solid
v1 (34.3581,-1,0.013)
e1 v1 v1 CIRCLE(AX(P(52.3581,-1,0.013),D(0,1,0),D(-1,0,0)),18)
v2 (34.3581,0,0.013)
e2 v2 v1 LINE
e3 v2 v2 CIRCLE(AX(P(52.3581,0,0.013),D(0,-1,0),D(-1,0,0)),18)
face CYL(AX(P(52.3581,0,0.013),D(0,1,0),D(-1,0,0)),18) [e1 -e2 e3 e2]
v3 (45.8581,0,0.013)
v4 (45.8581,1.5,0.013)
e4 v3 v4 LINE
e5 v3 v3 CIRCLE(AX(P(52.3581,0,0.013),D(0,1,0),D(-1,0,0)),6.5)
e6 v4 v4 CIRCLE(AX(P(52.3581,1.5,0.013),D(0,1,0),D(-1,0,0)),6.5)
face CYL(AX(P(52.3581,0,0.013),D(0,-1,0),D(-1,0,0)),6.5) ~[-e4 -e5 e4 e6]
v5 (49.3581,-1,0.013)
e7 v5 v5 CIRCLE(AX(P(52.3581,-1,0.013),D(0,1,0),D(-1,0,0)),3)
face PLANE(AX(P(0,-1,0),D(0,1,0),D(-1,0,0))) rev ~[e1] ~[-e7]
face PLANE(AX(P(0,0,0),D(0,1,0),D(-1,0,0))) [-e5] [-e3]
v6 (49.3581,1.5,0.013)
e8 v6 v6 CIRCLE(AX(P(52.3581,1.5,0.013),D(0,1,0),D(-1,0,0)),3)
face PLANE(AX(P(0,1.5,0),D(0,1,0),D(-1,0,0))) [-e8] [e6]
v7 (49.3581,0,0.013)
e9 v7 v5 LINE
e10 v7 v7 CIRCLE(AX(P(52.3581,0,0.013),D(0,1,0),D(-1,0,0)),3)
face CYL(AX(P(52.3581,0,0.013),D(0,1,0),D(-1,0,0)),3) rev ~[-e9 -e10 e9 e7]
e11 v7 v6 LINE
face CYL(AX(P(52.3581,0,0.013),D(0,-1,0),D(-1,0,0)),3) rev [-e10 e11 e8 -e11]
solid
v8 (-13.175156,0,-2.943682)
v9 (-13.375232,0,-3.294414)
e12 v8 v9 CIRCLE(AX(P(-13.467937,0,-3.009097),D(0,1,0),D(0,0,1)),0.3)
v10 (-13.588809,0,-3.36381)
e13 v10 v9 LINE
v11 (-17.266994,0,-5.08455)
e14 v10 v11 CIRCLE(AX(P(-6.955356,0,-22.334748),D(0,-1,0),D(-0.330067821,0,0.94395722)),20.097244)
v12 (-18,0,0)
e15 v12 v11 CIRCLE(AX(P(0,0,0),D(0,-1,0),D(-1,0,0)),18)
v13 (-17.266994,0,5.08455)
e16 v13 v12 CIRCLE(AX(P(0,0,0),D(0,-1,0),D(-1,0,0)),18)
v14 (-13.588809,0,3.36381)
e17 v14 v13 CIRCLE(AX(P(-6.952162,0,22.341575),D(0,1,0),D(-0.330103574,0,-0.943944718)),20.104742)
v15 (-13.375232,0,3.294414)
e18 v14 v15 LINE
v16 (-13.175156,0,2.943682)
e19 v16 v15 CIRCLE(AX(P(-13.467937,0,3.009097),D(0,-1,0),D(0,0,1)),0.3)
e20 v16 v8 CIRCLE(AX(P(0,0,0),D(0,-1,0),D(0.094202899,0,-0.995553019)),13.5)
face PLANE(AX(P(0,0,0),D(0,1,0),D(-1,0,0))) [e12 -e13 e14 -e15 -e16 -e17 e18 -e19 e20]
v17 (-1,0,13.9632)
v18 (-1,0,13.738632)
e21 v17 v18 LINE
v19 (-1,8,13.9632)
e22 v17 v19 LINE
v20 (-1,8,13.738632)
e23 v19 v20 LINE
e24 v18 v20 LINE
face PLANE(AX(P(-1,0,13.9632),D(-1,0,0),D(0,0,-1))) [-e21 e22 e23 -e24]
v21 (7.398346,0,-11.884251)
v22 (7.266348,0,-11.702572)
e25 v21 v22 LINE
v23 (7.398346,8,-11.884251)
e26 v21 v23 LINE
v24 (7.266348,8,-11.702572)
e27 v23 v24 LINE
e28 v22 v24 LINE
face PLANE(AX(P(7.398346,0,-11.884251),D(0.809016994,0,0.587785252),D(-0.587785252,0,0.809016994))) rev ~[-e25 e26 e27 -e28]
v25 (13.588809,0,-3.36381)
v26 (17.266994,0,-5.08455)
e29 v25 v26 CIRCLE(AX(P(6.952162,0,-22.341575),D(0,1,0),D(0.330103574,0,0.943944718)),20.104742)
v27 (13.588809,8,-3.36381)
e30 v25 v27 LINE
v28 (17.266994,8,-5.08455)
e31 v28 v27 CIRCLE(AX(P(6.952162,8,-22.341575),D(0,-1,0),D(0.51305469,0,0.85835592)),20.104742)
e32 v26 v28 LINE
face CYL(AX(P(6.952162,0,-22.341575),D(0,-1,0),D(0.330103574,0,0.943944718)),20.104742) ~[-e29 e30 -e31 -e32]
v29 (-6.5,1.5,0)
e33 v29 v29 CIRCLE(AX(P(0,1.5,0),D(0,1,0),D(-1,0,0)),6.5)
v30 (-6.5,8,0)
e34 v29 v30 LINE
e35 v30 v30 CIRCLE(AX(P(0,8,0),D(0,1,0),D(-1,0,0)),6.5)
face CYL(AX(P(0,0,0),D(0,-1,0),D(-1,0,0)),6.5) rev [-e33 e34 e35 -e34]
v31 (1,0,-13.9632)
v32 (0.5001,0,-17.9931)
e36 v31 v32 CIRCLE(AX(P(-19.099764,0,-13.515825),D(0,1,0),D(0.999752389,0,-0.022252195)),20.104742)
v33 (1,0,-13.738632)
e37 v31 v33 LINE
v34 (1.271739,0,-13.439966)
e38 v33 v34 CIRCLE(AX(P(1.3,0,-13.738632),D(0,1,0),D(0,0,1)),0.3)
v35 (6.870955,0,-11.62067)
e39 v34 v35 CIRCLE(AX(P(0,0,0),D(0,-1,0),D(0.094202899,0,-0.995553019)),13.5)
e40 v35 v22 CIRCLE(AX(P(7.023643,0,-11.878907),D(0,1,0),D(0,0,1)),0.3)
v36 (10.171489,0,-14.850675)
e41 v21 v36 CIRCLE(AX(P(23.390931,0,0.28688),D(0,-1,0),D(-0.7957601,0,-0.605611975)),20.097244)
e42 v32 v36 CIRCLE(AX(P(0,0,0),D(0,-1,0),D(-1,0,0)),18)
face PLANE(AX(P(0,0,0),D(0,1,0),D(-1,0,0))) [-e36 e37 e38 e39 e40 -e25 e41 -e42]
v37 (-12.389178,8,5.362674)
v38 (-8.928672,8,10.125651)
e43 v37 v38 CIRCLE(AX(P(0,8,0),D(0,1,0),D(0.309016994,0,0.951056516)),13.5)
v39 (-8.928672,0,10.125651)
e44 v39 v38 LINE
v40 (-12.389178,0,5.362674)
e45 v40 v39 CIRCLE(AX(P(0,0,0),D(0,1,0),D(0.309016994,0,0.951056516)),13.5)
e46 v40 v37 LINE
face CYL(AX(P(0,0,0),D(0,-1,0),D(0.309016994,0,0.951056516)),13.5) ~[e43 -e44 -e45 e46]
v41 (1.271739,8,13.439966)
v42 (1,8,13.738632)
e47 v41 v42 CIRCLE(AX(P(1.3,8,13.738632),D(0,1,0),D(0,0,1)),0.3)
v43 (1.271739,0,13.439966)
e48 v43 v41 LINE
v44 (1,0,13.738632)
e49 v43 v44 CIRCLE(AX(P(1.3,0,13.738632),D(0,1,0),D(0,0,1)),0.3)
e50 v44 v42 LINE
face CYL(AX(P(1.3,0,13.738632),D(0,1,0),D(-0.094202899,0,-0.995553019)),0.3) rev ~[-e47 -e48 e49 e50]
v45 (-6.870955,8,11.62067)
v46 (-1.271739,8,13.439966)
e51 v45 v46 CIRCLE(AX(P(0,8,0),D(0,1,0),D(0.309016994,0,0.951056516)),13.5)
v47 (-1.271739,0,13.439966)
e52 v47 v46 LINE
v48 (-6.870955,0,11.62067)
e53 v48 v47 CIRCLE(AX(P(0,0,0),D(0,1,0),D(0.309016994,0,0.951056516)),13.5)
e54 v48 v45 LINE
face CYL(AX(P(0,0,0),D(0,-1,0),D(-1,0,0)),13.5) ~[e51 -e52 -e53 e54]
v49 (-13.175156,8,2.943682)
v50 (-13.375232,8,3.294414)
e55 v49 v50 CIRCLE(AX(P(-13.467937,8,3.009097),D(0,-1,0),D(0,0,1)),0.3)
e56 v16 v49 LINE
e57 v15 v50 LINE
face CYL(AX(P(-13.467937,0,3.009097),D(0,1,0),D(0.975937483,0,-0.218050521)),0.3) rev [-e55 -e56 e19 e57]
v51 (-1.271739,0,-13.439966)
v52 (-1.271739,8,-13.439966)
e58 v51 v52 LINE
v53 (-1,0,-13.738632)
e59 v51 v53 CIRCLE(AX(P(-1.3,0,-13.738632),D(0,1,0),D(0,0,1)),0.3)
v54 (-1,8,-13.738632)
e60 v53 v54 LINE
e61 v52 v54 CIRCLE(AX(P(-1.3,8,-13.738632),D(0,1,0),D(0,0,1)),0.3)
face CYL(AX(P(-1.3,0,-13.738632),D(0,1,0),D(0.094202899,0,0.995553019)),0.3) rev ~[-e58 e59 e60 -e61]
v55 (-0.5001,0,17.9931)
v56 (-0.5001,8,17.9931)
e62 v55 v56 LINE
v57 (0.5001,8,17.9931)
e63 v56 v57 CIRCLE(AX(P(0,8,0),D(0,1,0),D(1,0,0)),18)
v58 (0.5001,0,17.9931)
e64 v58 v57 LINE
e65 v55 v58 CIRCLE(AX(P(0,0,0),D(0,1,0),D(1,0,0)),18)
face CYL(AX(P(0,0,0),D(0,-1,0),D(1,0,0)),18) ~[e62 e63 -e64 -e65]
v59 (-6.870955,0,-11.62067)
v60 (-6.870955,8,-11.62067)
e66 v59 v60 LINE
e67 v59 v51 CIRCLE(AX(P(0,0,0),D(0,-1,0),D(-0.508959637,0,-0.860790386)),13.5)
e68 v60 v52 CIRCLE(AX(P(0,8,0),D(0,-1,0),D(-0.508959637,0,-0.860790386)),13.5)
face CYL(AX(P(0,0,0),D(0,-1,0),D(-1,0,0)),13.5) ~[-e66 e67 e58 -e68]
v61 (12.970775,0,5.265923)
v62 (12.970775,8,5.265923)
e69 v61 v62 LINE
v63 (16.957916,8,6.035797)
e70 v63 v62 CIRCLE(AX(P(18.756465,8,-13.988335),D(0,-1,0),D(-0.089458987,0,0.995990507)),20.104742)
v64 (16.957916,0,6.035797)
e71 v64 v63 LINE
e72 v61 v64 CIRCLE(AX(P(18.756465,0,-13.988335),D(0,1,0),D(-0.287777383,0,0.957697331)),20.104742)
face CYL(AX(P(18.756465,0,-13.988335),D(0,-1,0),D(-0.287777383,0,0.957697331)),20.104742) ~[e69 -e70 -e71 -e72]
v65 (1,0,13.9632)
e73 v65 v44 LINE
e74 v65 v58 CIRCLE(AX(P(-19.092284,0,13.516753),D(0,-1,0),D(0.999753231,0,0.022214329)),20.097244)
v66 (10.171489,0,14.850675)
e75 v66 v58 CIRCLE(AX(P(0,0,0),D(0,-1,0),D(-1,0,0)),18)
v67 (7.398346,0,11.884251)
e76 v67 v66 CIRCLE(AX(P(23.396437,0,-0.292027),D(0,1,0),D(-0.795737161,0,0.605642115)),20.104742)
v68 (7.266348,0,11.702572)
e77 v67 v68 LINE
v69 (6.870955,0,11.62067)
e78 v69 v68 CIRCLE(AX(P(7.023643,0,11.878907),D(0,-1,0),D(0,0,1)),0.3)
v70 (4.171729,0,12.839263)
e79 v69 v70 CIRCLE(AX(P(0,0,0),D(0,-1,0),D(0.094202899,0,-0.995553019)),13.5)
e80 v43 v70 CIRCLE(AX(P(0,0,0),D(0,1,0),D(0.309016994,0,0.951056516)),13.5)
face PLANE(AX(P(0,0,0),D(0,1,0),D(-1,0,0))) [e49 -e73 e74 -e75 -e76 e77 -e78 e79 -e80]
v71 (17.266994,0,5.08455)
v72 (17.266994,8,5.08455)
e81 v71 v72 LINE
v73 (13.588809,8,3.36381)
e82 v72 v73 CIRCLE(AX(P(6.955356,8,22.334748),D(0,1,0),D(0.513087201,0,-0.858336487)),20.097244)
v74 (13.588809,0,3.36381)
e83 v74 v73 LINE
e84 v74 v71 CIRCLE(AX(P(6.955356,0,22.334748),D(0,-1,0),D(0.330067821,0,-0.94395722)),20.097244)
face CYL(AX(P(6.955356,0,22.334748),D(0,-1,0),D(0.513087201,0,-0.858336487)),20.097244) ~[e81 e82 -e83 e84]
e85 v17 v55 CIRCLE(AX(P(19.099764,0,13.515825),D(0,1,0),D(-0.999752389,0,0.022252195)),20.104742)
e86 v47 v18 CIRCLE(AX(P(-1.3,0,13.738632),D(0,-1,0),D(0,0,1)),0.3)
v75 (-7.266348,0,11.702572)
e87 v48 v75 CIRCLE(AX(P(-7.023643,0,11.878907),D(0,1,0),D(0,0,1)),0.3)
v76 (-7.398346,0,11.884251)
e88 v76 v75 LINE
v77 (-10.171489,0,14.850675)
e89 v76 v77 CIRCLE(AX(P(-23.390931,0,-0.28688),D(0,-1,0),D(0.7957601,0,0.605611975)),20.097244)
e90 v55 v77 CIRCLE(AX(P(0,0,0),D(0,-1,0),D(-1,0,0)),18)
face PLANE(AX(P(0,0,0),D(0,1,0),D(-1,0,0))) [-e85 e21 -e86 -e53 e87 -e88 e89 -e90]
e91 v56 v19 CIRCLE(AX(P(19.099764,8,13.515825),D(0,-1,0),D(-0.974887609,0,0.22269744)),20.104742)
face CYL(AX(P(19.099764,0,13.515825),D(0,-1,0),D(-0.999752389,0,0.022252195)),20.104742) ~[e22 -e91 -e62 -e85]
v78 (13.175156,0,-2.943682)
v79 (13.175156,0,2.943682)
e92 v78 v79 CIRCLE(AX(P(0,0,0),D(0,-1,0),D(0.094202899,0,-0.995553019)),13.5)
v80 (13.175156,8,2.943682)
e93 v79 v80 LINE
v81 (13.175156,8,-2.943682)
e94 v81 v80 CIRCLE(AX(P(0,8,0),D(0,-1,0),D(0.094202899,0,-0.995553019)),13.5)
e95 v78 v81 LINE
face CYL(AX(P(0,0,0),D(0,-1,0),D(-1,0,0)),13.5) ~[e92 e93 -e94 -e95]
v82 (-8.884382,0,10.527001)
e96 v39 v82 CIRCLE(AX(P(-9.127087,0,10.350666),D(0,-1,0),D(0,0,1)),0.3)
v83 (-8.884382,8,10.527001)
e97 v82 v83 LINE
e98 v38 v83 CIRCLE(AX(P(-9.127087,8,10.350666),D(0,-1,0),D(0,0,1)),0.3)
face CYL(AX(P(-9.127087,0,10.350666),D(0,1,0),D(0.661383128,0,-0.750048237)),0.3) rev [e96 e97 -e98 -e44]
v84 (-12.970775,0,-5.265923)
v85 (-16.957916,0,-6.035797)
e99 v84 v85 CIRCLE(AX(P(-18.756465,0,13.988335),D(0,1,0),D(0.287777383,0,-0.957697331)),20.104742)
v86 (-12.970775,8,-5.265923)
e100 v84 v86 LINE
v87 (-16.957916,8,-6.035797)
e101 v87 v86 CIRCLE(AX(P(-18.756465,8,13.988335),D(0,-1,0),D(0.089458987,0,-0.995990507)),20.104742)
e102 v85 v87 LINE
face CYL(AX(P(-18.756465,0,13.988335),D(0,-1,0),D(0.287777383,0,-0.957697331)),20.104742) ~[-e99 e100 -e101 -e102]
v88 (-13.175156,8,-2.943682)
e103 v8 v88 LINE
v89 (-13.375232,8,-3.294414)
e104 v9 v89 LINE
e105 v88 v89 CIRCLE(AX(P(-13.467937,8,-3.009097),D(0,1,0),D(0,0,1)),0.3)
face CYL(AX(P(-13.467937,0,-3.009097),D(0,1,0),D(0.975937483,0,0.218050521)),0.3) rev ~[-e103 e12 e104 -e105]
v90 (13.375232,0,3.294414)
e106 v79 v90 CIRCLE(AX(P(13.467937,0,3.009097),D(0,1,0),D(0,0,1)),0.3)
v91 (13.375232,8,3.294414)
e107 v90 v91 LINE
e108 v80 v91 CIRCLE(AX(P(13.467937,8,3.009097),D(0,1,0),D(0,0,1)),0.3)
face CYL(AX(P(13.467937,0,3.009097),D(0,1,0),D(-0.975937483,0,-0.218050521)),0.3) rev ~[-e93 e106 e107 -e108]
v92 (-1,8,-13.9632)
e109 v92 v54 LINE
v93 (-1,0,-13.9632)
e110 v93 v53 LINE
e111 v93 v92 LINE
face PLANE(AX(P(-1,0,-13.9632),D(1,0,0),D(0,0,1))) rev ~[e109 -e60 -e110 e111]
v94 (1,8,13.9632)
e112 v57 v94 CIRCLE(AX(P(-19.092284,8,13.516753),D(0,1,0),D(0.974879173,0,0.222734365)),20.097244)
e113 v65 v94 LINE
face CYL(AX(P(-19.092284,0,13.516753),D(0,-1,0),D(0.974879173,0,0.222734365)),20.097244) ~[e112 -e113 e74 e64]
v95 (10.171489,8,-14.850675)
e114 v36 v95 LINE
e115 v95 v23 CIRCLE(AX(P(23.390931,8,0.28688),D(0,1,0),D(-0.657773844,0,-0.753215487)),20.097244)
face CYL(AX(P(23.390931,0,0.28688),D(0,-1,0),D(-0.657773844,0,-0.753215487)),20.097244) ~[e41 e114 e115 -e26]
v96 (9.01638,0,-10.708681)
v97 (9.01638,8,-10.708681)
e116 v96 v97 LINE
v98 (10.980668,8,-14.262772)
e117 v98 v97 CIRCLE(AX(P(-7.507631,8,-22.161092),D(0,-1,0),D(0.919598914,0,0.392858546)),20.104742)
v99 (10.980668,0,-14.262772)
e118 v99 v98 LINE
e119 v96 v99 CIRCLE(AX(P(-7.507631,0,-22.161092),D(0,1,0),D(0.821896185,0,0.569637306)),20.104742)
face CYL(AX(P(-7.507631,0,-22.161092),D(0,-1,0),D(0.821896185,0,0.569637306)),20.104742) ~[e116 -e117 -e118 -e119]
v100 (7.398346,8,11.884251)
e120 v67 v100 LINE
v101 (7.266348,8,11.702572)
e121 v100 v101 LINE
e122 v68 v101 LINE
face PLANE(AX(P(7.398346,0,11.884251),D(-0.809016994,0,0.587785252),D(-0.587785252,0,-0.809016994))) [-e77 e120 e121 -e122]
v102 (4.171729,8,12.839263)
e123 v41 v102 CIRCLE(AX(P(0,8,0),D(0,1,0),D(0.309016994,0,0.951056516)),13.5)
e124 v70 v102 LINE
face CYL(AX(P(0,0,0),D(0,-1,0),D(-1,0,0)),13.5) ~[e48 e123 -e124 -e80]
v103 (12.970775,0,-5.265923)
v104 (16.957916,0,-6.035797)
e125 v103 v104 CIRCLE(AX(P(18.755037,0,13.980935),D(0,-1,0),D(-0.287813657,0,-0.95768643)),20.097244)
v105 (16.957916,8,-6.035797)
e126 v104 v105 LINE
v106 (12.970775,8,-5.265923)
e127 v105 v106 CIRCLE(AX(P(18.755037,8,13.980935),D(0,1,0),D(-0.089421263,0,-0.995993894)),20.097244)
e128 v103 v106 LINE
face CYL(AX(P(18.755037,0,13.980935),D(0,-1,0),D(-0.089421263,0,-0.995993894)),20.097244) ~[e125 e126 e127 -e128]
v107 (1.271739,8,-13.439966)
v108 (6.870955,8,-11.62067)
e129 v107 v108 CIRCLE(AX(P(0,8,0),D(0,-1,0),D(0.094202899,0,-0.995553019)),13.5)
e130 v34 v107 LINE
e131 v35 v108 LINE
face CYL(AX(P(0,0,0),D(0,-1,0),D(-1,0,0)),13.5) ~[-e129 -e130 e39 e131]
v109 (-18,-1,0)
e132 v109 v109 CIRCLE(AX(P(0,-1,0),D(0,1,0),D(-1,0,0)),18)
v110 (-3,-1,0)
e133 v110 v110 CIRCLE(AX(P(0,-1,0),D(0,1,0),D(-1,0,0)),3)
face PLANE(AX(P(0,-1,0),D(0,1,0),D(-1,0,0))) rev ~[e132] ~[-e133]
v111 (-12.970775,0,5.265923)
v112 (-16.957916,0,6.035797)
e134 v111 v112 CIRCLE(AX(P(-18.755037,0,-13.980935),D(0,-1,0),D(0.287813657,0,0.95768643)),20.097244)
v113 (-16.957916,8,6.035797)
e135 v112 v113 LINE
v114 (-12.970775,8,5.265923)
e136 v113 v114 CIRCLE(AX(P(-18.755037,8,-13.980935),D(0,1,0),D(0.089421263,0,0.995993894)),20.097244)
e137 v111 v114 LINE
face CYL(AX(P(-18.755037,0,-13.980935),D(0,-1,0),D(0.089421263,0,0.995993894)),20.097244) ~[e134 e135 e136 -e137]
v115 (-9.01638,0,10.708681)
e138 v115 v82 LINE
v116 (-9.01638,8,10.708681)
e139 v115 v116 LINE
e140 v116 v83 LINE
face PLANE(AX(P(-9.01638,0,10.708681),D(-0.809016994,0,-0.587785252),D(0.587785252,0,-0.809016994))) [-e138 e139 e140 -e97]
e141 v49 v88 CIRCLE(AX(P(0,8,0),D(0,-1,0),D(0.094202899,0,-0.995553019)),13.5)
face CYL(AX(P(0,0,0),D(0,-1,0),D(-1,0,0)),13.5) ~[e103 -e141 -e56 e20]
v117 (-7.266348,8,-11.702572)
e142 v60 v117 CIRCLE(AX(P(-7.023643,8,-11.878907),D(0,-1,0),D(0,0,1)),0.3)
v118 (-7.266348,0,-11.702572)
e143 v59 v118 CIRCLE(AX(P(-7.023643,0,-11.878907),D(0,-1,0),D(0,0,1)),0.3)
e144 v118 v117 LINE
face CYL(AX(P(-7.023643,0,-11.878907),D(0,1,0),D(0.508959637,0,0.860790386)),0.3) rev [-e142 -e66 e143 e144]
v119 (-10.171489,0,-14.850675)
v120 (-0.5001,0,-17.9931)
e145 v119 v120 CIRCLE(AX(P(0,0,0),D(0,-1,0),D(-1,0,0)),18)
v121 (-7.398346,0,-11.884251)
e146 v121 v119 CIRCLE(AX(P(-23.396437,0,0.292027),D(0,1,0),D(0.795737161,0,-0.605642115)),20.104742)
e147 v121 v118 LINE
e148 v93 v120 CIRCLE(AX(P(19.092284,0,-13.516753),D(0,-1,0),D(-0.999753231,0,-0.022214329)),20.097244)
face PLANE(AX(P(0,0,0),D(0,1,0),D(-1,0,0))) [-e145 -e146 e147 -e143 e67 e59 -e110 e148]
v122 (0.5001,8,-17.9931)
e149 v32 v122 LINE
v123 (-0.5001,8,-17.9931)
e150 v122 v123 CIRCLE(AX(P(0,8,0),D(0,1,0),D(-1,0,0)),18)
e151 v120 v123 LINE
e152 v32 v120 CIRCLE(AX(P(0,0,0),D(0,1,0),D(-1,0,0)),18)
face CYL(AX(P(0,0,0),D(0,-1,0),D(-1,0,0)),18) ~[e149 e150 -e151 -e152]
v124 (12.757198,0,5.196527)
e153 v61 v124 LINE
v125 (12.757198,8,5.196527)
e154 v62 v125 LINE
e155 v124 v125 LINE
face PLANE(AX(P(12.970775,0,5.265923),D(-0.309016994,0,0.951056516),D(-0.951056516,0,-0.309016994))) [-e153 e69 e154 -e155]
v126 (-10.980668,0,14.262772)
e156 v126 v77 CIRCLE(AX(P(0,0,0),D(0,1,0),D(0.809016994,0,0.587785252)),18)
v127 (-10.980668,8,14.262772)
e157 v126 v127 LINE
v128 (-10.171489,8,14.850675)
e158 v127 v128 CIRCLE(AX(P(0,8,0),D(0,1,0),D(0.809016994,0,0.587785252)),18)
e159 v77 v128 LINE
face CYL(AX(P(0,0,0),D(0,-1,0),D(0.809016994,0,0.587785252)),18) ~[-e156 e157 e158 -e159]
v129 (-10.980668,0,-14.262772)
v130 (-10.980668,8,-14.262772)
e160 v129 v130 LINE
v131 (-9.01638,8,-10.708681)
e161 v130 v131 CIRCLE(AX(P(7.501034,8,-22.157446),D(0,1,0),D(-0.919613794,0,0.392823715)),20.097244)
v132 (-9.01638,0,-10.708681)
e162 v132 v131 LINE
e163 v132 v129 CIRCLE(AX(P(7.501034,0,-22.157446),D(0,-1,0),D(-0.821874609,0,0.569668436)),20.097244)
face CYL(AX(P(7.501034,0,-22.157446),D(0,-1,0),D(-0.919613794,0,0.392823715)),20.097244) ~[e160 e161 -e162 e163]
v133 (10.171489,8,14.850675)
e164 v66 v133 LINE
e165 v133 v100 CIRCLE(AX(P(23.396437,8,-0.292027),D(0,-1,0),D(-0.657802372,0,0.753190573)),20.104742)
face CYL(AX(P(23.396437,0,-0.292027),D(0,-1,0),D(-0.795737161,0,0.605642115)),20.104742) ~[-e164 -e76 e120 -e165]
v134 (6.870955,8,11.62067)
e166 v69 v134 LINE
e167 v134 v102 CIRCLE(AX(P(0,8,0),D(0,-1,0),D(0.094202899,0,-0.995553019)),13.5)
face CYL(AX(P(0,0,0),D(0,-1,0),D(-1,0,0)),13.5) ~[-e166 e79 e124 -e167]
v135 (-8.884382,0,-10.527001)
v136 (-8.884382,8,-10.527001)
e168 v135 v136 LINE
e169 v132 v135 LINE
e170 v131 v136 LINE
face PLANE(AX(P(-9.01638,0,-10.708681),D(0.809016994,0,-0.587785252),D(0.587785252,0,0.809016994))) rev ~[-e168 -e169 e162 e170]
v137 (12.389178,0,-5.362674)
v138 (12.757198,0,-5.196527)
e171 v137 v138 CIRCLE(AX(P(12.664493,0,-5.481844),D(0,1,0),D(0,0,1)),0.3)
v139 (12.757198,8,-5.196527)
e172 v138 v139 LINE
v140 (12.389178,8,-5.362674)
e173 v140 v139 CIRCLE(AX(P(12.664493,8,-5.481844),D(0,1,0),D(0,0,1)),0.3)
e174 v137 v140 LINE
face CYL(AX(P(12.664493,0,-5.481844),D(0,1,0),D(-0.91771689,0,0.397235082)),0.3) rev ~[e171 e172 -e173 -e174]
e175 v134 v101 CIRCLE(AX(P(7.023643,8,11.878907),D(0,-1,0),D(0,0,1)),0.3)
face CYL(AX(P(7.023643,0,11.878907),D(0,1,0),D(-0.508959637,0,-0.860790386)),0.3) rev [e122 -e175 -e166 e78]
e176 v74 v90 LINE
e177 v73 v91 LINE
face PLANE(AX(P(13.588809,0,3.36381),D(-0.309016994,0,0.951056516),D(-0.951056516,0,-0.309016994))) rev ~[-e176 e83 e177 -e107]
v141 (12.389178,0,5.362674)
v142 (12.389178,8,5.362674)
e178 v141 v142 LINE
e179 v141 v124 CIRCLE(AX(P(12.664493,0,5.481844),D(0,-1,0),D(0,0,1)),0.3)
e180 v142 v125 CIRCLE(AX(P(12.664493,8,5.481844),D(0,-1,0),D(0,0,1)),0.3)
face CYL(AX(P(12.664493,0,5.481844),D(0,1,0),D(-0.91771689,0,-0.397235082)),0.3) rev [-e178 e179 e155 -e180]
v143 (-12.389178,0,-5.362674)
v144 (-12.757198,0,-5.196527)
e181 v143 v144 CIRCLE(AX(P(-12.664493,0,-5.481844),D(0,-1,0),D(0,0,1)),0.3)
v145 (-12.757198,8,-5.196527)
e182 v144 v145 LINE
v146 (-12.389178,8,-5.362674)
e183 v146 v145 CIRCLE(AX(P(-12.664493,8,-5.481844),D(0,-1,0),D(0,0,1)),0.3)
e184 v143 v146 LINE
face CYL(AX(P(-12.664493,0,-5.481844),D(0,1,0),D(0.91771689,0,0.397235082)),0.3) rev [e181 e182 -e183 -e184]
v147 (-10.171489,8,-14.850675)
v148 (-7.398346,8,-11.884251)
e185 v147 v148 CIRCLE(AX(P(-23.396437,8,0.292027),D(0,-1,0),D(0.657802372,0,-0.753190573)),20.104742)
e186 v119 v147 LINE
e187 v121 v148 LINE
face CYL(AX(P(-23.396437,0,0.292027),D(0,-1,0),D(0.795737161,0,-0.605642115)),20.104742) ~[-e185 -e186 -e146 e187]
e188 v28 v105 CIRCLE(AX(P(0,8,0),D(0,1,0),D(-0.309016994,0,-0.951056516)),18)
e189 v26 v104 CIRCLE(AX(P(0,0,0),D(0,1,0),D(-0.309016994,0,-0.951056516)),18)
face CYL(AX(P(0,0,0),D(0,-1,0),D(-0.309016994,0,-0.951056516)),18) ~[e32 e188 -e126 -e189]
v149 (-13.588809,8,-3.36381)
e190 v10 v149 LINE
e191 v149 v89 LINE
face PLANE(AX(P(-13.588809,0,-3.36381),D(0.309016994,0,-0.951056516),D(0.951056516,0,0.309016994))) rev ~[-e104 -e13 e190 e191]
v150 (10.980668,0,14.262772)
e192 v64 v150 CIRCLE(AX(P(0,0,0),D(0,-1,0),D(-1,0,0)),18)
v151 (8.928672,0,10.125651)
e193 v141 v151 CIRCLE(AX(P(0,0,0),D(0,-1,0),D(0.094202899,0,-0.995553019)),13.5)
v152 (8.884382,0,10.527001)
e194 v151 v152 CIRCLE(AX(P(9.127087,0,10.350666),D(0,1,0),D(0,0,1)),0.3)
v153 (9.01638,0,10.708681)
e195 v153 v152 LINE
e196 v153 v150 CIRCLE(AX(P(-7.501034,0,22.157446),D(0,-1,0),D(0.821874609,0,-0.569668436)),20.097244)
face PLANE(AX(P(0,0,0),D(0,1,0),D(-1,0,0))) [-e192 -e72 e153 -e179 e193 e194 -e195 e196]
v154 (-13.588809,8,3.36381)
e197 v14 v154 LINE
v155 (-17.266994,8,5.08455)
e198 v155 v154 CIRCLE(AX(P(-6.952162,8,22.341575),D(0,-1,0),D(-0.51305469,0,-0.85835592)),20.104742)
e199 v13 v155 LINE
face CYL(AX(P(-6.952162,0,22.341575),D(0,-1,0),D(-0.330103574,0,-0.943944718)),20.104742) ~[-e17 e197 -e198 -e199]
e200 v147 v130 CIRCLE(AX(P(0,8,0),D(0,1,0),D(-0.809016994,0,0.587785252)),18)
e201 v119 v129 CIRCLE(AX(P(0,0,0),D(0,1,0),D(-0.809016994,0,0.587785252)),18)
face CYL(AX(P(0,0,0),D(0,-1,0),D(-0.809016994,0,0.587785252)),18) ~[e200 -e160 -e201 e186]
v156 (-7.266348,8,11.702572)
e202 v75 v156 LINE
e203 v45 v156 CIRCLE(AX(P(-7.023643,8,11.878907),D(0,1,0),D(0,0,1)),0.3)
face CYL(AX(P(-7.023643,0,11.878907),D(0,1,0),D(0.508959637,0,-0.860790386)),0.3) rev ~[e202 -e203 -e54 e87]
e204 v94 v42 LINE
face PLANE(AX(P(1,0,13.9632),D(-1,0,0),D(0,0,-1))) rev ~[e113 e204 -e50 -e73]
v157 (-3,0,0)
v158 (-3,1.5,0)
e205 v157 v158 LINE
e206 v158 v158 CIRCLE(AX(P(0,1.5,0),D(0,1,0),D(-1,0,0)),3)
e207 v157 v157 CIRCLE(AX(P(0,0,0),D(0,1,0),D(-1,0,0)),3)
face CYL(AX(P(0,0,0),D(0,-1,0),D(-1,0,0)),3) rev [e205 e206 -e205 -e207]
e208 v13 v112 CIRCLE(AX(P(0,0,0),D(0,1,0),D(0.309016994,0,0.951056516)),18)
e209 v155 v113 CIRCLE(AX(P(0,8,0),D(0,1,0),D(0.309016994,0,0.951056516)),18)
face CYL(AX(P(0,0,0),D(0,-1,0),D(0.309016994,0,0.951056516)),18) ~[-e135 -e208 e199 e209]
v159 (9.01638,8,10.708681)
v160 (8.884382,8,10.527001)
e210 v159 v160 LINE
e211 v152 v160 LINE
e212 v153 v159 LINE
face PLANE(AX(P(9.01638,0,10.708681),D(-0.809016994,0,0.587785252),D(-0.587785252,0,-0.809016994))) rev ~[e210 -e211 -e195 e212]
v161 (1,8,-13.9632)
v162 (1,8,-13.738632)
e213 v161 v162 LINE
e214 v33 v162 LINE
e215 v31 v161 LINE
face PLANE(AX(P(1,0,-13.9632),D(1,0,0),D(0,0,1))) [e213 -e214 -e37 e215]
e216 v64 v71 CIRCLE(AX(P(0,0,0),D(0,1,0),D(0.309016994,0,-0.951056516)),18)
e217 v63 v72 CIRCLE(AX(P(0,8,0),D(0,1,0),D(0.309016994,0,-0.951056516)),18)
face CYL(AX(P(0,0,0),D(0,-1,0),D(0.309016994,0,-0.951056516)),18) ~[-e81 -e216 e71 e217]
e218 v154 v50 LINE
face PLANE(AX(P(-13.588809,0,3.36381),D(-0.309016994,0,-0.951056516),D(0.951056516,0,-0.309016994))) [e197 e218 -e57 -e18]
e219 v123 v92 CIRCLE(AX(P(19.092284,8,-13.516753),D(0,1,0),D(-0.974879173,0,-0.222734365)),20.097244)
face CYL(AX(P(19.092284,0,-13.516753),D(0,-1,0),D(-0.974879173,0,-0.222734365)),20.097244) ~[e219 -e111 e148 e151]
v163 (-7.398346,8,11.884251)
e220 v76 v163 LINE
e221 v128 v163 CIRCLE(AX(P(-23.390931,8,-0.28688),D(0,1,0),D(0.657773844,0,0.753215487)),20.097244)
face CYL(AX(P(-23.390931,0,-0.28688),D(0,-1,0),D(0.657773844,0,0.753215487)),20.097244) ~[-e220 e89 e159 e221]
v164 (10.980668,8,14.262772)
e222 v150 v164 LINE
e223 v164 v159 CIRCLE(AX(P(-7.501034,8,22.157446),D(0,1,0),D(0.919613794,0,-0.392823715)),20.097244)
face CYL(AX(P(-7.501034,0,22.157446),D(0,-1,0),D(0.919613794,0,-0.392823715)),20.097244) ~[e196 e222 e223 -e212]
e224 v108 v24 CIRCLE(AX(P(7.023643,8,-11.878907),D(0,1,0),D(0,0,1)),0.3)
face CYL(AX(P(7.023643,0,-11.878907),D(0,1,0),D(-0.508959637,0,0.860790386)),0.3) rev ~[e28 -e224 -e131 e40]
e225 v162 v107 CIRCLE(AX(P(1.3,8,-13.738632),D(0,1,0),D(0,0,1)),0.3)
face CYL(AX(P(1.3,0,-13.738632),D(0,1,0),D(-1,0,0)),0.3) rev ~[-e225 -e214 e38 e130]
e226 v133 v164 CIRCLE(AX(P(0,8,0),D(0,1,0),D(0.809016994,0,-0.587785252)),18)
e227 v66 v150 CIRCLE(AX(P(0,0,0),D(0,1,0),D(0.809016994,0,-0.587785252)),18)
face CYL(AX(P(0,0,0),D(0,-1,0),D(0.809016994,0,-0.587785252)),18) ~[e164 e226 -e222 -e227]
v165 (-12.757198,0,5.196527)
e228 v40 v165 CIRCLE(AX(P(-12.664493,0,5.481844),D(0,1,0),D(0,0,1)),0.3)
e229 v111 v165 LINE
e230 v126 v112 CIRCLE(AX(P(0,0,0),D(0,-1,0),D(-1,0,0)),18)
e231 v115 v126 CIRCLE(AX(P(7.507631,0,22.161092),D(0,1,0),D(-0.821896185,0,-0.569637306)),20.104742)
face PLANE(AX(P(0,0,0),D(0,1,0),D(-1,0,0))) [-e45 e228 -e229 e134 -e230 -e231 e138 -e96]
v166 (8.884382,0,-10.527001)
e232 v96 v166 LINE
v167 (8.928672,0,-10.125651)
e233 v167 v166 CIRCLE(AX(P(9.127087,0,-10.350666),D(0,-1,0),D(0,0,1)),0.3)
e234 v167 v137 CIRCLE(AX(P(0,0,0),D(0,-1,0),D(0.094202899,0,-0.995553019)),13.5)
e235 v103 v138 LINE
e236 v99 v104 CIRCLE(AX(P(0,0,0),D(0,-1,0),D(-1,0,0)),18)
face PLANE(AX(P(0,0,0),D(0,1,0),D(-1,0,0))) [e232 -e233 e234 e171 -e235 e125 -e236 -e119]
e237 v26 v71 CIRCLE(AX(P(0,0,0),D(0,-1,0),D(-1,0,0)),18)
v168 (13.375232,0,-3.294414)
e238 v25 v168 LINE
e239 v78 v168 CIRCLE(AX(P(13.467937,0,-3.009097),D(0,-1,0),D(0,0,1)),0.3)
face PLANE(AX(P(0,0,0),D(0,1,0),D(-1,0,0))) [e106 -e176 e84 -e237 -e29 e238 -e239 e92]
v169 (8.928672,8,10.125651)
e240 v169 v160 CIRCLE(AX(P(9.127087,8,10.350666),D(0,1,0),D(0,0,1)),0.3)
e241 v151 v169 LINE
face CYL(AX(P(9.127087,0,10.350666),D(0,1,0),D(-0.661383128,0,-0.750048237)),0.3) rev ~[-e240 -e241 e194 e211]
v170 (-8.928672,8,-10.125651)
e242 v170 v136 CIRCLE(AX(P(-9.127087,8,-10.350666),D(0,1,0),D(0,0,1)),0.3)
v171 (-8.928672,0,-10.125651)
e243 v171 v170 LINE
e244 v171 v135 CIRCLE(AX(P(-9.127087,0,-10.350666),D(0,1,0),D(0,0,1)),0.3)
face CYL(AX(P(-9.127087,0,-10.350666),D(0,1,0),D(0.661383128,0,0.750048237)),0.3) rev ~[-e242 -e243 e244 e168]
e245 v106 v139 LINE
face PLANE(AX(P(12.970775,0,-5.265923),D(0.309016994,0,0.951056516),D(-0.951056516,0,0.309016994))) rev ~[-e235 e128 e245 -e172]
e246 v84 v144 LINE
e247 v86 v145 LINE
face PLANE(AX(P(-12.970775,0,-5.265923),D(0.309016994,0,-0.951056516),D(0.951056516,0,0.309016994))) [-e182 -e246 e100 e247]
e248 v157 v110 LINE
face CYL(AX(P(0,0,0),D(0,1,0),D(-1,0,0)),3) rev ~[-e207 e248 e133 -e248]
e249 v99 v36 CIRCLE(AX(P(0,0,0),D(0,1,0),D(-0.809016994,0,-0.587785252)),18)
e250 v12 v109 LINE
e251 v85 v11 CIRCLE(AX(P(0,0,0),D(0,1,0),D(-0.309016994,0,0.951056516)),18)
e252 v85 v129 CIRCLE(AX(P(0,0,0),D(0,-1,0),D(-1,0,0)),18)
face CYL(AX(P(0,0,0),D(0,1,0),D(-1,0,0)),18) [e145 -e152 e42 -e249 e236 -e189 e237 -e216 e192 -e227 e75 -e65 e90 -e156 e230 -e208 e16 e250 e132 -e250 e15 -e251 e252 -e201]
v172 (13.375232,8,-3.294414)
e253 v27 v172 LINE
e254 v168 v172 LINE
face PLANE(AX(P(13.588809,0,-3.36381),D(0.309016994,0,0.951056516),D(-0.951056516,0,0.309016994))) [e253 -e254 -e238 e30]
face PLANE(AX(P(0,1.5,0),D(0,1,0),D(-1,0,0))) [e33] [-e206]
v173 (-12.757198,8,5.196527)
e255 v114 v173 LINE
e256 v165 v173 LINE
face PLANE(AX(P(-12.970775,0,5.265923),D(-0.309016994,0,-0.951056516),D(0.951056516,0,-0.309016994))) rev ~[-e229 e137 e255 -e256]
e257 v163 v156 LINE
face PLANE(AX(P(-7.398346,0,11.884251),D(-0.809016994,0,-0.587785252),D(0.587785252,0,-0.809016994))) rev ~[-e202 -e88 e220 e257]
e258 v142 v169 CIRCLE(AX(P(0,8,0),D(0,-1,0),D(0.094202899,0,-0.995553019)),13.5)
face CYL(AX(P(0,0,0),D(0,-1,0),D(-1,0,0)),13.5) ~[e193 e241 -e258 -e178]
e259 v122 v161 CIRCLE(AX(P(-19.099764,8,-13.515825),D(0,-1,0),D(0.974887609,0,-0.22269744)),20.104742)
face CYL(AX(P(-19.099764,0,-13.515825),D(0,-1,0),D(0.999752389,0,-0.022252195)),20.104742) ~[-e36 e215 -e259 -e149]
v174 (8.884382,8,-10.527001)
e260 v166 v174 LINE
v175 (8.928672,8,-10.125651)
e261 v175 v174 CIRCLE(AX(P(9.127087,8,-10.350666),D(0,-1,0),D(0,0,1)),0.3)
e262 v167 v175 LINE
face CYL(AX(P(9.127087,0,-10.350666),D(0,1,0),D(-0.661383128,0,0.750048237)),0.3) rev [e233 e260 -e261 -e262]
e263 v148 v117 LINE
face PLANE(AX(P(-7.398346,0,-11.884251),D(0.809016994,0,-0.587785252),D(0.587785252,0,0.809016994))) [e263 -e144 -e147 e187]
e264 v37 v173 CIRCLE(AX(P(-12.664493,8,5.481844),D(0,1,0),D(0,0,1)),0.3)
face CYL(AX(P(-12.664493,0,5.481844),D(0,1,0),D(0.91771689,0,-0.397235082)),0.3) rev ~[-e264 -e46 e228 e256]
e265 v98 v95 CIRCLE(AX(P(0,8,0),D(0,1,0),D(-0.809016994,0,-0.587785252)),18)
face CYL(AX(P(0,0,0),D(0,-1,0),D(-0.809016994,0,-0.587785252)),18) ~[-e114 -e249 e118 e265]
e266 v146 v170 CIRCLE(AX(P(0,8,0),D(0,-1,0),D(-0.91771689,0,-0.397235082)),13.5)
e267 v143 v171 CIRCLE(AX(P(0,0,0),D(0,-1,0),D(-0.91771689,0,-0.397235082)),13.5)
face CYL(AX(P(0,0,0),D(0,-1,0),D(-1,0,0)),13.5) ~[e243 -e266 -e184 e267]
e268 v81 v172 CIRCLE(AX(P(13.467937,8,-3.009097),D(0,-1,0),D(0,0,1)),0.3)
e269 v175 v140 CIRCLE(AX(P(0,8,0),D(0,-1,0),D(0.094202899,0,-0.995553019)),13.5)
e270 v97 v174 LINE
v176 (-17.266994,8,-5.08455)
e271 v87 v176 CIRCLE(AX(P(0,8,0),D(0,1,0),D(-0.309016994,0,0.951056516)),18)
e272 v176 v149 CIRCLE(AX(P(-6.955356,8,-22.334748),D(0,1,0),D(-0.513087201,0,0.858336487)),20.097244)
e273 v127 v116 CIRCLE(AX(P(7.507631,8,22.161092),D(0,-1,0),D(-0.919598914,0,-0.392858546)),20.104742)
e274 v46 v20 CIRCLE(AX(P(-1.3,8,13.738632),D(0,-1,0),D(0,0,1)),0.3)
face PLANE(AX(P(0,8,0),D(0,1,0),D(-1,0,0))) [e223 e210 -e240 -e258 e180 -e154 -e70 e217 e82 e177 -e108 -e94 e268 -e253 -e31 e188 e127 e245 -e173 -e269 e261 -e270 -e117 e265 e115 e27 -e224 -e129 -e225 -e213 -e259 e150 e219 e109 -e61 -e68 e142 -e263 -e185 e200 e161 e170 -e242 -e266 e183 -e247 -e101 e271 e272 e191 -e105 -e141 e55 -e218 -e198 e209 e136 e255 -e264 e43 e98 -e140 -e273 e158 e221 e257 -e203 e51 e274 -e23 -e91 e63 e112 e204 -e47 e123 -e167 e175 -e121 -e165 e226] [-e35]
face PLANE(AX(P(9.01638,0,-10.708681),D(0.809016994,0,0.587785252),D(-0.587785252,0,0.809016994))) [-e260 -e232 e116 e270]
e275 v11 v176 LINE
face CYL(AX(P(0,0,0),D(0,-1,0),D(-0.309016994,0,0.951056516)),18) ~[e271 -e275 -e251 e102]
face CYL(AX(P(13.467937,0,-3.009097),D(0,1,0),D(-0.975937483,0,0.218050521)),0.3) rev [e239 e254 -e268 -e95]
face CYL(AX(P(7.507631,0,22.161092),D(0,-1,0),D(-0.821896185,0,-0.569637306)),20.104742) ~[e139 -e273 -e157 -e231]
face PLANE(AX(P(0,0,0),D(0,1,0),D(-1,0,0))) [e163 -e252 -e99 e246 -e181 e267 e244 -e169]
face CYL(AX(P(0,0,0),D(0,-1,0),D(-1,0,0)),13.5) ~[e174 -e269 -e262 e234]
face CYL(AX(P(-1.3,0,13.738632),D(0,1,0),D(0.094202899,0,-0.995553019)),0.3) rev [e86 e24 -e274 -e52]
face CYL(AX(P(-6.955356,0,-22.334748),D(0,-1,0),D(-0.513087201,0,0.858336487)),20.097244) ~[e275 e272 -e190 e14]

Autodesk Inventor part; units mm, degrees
ref_plane "YZ Plane" through (0, 0, 0) normal (1, 0, 0) x (0, 1, 0)
ref_plane "XZ Plane" through (0, 0, 0) normal (0, 1, 0) x (-1, 0, 0)
ref_plane "XY Plane" through (0, 0, 0) normal (0, 0, 1) x (1, 0, 0)
sketch "Sketch1" plane through (0, 0, 0) normal (0, 1, 0) x (-1, 0, 0)
  circle A0 centre (0, 0) radius 18
  circle A1 centre (0, 0) radius 16.7855
  circle A2 centre (0, 0) radius 13.999
  line L0 (0, -13.999) -> (0, 0) construction
  line L1 (0, 0) -> (13.999, 0) construction
  circle A3 centre (0, 0) radius 13.5
  arc A4 (0.5001, -17.9931) -> (1, -13.9632) centre (-19.096, -13.5161) ccw
  arc A5 (-1, -13.9632) -> (-0.5001, -17.9931) centre (19.096, -13.5161) ccw
  line L2 (-1, -13.9632) -> (-1, -13.4629)
  line L3 (1, -13.9632) -> (1, -13.4629)
  circle A6 centre (0, 0) radius 3
  circle A7 centre (0, 0) radius 6.5
  circle A8 centre (-52.3581, 0.013) radius 18
  circle A9 centre (-52.3581, 0.013) radius 16.7855
  circle A10 centre (-52.3581, 0.013) radius 13.999
  line L4 (-52.3581, -13.986) -> (-52.3581, 0.013) construction
  line L5 (-52.3581, 0.013) -> (-38.3591, 0.013) construction
  circle A11 centre (-52.3581, 0.013) radius 13.5
  arc A12 (-51.858, -17.98) -> (-51.3581, -13.9502) centre (-71.4541, -13.5031) ccw
  arc A13 (-53.3581, -13.9502) -> (-52.8582, -17.98) centre (-33.2621, -13.5031) ccw
  line L6 (-53.3581, -13.9502) -> (-53.3581, -13.4499)
  line L7 (-51.3581, -13.9502) -> (-51.3581, -13.4499)
  circle A14 centre (-52.3581, 0.013) radius 3
  circle A15 centre (-52.3581, 0.013) radius 6.5
  point P0 (0, -16.7855)
  point P1 (0, -16.7855)
  point P2 (0.74, -16.7692)
  point P3 (-0.74, -16.7692)
  point P4 (-0.4999, -17.9931)
  point P5 (-3.765, -17.6018)
  point P6 (0.5138, -17.9927)
  point P7 (-0.5138, -17.9927)
  point P8 (0, -18)
  point P9 (-1, -13.9632)
  point P10 (-0.5001, -17.9931)
  point P11 (1.25, 0)
  point P12 (-52.3581, -16.7725)
  point P13 (-52.3581, -16.7725)
  point P14 (-51.6181, -16.7561)
  point P15 (-53.0981, -16.7561)
  point P16 (-52.858, -17.98)
  point P17 (-56.1231, -17.5888)
  point P18 (-51.8443, -17.9796)
  point P19 (-52.8719, -17.9796)
  point P20 (-52.3581, -17.987)
  point P21 (-53.3581, -13.9502)
  point P22 (-51.1081, 0.013)
  dimension "d0" = 36
  dimension "d1" = 33.571
  dimension "d2" = 27.998
  dimension "d3" = 1.48
  dimension "d4" = 27
  dimension "d13" = 20.101
  dimension "d14" = 1
  dimension "d16" = 1
  dimension "d17" = 4.001
  dimension "d18" = 1.2239
  dimension "d19" = 2.7702
  dimension "d23" = 0.5003
  dimension "d24" = 0.5003
  dimension "d42" = 6
  dimension "d43" = 13
  dimension "d48" = 36
  dimension "d49" = 33.571
  dimension "d50" = 27.998
  dimension "d51" = 1.48
  dimension "d52" = 27
  dimension "d53" = 20.101
  dimension "d54" = 1
  dimension "d55" = 1
  dimension "d56" = 4.001
  dimension "d57" = 1.2239
  dimension "d58" = 2.7702
  dimension "d59" = 0.5003
  dimension "d60" = 0.5003
  dimension "d61" = 6
  dimension "d62" = 13
extrude "Extrusion1" add sketch "Sketch1" along normal blind 8 contours A5 A1 A4 A0 | A5 A2 A4 A1 | L2 A3 L3 A2 | A3 | A6 | A7 picked at (-0.0822, -17.3191) picked at (-0.2901, -15.2142) picked at (0.7779, -13.6407)
fillet "Fillet1" radius 0.3 2 edges at (1, 4, -13.4629) (-1, 4, -13.4629)
pattern_circular "Circular Pattern1" count 10 over 360 about axis through (0, 0, 0) along (0, 1, 0) of "Extrusion1", "Fillet1"
extrude "Extrusion2" cut sketch "Sketch1" along normal blind 8 contours A6
extrude "Extrusion5" cut sketch "Sketch1" along normal blind 8 contours A7
extrude "Extrusion3" add sketch "Sketch1" against normal blind 1 contours A0 A4 A1 A5 | A5 A1 A4 A0 | A5 A2 A4 A1 | A1 A4 A2 A5 | L2 A3 L3 A2 | A2 L3 A3 L2 | A3 | A7 | A8 A12 A9 A13 | A13 A9 A12 A8 | A13 A10 A12 A9 | A9 A12 A10 A13 | L6 A11 L7 A10 | A10 L7 A11 L6 | A11 | A15
extrude "Extrusion6" add sketch "Sketch1" along normal blind 1.5 contours A7 | A15
sketch "Sketch2" plane through (52.3581, 0, 0.013) normal (0, 1, 0) x (1, 0, 0)
  point P0 (-52.3581, 0.013)
properties part number "bearingear10"
